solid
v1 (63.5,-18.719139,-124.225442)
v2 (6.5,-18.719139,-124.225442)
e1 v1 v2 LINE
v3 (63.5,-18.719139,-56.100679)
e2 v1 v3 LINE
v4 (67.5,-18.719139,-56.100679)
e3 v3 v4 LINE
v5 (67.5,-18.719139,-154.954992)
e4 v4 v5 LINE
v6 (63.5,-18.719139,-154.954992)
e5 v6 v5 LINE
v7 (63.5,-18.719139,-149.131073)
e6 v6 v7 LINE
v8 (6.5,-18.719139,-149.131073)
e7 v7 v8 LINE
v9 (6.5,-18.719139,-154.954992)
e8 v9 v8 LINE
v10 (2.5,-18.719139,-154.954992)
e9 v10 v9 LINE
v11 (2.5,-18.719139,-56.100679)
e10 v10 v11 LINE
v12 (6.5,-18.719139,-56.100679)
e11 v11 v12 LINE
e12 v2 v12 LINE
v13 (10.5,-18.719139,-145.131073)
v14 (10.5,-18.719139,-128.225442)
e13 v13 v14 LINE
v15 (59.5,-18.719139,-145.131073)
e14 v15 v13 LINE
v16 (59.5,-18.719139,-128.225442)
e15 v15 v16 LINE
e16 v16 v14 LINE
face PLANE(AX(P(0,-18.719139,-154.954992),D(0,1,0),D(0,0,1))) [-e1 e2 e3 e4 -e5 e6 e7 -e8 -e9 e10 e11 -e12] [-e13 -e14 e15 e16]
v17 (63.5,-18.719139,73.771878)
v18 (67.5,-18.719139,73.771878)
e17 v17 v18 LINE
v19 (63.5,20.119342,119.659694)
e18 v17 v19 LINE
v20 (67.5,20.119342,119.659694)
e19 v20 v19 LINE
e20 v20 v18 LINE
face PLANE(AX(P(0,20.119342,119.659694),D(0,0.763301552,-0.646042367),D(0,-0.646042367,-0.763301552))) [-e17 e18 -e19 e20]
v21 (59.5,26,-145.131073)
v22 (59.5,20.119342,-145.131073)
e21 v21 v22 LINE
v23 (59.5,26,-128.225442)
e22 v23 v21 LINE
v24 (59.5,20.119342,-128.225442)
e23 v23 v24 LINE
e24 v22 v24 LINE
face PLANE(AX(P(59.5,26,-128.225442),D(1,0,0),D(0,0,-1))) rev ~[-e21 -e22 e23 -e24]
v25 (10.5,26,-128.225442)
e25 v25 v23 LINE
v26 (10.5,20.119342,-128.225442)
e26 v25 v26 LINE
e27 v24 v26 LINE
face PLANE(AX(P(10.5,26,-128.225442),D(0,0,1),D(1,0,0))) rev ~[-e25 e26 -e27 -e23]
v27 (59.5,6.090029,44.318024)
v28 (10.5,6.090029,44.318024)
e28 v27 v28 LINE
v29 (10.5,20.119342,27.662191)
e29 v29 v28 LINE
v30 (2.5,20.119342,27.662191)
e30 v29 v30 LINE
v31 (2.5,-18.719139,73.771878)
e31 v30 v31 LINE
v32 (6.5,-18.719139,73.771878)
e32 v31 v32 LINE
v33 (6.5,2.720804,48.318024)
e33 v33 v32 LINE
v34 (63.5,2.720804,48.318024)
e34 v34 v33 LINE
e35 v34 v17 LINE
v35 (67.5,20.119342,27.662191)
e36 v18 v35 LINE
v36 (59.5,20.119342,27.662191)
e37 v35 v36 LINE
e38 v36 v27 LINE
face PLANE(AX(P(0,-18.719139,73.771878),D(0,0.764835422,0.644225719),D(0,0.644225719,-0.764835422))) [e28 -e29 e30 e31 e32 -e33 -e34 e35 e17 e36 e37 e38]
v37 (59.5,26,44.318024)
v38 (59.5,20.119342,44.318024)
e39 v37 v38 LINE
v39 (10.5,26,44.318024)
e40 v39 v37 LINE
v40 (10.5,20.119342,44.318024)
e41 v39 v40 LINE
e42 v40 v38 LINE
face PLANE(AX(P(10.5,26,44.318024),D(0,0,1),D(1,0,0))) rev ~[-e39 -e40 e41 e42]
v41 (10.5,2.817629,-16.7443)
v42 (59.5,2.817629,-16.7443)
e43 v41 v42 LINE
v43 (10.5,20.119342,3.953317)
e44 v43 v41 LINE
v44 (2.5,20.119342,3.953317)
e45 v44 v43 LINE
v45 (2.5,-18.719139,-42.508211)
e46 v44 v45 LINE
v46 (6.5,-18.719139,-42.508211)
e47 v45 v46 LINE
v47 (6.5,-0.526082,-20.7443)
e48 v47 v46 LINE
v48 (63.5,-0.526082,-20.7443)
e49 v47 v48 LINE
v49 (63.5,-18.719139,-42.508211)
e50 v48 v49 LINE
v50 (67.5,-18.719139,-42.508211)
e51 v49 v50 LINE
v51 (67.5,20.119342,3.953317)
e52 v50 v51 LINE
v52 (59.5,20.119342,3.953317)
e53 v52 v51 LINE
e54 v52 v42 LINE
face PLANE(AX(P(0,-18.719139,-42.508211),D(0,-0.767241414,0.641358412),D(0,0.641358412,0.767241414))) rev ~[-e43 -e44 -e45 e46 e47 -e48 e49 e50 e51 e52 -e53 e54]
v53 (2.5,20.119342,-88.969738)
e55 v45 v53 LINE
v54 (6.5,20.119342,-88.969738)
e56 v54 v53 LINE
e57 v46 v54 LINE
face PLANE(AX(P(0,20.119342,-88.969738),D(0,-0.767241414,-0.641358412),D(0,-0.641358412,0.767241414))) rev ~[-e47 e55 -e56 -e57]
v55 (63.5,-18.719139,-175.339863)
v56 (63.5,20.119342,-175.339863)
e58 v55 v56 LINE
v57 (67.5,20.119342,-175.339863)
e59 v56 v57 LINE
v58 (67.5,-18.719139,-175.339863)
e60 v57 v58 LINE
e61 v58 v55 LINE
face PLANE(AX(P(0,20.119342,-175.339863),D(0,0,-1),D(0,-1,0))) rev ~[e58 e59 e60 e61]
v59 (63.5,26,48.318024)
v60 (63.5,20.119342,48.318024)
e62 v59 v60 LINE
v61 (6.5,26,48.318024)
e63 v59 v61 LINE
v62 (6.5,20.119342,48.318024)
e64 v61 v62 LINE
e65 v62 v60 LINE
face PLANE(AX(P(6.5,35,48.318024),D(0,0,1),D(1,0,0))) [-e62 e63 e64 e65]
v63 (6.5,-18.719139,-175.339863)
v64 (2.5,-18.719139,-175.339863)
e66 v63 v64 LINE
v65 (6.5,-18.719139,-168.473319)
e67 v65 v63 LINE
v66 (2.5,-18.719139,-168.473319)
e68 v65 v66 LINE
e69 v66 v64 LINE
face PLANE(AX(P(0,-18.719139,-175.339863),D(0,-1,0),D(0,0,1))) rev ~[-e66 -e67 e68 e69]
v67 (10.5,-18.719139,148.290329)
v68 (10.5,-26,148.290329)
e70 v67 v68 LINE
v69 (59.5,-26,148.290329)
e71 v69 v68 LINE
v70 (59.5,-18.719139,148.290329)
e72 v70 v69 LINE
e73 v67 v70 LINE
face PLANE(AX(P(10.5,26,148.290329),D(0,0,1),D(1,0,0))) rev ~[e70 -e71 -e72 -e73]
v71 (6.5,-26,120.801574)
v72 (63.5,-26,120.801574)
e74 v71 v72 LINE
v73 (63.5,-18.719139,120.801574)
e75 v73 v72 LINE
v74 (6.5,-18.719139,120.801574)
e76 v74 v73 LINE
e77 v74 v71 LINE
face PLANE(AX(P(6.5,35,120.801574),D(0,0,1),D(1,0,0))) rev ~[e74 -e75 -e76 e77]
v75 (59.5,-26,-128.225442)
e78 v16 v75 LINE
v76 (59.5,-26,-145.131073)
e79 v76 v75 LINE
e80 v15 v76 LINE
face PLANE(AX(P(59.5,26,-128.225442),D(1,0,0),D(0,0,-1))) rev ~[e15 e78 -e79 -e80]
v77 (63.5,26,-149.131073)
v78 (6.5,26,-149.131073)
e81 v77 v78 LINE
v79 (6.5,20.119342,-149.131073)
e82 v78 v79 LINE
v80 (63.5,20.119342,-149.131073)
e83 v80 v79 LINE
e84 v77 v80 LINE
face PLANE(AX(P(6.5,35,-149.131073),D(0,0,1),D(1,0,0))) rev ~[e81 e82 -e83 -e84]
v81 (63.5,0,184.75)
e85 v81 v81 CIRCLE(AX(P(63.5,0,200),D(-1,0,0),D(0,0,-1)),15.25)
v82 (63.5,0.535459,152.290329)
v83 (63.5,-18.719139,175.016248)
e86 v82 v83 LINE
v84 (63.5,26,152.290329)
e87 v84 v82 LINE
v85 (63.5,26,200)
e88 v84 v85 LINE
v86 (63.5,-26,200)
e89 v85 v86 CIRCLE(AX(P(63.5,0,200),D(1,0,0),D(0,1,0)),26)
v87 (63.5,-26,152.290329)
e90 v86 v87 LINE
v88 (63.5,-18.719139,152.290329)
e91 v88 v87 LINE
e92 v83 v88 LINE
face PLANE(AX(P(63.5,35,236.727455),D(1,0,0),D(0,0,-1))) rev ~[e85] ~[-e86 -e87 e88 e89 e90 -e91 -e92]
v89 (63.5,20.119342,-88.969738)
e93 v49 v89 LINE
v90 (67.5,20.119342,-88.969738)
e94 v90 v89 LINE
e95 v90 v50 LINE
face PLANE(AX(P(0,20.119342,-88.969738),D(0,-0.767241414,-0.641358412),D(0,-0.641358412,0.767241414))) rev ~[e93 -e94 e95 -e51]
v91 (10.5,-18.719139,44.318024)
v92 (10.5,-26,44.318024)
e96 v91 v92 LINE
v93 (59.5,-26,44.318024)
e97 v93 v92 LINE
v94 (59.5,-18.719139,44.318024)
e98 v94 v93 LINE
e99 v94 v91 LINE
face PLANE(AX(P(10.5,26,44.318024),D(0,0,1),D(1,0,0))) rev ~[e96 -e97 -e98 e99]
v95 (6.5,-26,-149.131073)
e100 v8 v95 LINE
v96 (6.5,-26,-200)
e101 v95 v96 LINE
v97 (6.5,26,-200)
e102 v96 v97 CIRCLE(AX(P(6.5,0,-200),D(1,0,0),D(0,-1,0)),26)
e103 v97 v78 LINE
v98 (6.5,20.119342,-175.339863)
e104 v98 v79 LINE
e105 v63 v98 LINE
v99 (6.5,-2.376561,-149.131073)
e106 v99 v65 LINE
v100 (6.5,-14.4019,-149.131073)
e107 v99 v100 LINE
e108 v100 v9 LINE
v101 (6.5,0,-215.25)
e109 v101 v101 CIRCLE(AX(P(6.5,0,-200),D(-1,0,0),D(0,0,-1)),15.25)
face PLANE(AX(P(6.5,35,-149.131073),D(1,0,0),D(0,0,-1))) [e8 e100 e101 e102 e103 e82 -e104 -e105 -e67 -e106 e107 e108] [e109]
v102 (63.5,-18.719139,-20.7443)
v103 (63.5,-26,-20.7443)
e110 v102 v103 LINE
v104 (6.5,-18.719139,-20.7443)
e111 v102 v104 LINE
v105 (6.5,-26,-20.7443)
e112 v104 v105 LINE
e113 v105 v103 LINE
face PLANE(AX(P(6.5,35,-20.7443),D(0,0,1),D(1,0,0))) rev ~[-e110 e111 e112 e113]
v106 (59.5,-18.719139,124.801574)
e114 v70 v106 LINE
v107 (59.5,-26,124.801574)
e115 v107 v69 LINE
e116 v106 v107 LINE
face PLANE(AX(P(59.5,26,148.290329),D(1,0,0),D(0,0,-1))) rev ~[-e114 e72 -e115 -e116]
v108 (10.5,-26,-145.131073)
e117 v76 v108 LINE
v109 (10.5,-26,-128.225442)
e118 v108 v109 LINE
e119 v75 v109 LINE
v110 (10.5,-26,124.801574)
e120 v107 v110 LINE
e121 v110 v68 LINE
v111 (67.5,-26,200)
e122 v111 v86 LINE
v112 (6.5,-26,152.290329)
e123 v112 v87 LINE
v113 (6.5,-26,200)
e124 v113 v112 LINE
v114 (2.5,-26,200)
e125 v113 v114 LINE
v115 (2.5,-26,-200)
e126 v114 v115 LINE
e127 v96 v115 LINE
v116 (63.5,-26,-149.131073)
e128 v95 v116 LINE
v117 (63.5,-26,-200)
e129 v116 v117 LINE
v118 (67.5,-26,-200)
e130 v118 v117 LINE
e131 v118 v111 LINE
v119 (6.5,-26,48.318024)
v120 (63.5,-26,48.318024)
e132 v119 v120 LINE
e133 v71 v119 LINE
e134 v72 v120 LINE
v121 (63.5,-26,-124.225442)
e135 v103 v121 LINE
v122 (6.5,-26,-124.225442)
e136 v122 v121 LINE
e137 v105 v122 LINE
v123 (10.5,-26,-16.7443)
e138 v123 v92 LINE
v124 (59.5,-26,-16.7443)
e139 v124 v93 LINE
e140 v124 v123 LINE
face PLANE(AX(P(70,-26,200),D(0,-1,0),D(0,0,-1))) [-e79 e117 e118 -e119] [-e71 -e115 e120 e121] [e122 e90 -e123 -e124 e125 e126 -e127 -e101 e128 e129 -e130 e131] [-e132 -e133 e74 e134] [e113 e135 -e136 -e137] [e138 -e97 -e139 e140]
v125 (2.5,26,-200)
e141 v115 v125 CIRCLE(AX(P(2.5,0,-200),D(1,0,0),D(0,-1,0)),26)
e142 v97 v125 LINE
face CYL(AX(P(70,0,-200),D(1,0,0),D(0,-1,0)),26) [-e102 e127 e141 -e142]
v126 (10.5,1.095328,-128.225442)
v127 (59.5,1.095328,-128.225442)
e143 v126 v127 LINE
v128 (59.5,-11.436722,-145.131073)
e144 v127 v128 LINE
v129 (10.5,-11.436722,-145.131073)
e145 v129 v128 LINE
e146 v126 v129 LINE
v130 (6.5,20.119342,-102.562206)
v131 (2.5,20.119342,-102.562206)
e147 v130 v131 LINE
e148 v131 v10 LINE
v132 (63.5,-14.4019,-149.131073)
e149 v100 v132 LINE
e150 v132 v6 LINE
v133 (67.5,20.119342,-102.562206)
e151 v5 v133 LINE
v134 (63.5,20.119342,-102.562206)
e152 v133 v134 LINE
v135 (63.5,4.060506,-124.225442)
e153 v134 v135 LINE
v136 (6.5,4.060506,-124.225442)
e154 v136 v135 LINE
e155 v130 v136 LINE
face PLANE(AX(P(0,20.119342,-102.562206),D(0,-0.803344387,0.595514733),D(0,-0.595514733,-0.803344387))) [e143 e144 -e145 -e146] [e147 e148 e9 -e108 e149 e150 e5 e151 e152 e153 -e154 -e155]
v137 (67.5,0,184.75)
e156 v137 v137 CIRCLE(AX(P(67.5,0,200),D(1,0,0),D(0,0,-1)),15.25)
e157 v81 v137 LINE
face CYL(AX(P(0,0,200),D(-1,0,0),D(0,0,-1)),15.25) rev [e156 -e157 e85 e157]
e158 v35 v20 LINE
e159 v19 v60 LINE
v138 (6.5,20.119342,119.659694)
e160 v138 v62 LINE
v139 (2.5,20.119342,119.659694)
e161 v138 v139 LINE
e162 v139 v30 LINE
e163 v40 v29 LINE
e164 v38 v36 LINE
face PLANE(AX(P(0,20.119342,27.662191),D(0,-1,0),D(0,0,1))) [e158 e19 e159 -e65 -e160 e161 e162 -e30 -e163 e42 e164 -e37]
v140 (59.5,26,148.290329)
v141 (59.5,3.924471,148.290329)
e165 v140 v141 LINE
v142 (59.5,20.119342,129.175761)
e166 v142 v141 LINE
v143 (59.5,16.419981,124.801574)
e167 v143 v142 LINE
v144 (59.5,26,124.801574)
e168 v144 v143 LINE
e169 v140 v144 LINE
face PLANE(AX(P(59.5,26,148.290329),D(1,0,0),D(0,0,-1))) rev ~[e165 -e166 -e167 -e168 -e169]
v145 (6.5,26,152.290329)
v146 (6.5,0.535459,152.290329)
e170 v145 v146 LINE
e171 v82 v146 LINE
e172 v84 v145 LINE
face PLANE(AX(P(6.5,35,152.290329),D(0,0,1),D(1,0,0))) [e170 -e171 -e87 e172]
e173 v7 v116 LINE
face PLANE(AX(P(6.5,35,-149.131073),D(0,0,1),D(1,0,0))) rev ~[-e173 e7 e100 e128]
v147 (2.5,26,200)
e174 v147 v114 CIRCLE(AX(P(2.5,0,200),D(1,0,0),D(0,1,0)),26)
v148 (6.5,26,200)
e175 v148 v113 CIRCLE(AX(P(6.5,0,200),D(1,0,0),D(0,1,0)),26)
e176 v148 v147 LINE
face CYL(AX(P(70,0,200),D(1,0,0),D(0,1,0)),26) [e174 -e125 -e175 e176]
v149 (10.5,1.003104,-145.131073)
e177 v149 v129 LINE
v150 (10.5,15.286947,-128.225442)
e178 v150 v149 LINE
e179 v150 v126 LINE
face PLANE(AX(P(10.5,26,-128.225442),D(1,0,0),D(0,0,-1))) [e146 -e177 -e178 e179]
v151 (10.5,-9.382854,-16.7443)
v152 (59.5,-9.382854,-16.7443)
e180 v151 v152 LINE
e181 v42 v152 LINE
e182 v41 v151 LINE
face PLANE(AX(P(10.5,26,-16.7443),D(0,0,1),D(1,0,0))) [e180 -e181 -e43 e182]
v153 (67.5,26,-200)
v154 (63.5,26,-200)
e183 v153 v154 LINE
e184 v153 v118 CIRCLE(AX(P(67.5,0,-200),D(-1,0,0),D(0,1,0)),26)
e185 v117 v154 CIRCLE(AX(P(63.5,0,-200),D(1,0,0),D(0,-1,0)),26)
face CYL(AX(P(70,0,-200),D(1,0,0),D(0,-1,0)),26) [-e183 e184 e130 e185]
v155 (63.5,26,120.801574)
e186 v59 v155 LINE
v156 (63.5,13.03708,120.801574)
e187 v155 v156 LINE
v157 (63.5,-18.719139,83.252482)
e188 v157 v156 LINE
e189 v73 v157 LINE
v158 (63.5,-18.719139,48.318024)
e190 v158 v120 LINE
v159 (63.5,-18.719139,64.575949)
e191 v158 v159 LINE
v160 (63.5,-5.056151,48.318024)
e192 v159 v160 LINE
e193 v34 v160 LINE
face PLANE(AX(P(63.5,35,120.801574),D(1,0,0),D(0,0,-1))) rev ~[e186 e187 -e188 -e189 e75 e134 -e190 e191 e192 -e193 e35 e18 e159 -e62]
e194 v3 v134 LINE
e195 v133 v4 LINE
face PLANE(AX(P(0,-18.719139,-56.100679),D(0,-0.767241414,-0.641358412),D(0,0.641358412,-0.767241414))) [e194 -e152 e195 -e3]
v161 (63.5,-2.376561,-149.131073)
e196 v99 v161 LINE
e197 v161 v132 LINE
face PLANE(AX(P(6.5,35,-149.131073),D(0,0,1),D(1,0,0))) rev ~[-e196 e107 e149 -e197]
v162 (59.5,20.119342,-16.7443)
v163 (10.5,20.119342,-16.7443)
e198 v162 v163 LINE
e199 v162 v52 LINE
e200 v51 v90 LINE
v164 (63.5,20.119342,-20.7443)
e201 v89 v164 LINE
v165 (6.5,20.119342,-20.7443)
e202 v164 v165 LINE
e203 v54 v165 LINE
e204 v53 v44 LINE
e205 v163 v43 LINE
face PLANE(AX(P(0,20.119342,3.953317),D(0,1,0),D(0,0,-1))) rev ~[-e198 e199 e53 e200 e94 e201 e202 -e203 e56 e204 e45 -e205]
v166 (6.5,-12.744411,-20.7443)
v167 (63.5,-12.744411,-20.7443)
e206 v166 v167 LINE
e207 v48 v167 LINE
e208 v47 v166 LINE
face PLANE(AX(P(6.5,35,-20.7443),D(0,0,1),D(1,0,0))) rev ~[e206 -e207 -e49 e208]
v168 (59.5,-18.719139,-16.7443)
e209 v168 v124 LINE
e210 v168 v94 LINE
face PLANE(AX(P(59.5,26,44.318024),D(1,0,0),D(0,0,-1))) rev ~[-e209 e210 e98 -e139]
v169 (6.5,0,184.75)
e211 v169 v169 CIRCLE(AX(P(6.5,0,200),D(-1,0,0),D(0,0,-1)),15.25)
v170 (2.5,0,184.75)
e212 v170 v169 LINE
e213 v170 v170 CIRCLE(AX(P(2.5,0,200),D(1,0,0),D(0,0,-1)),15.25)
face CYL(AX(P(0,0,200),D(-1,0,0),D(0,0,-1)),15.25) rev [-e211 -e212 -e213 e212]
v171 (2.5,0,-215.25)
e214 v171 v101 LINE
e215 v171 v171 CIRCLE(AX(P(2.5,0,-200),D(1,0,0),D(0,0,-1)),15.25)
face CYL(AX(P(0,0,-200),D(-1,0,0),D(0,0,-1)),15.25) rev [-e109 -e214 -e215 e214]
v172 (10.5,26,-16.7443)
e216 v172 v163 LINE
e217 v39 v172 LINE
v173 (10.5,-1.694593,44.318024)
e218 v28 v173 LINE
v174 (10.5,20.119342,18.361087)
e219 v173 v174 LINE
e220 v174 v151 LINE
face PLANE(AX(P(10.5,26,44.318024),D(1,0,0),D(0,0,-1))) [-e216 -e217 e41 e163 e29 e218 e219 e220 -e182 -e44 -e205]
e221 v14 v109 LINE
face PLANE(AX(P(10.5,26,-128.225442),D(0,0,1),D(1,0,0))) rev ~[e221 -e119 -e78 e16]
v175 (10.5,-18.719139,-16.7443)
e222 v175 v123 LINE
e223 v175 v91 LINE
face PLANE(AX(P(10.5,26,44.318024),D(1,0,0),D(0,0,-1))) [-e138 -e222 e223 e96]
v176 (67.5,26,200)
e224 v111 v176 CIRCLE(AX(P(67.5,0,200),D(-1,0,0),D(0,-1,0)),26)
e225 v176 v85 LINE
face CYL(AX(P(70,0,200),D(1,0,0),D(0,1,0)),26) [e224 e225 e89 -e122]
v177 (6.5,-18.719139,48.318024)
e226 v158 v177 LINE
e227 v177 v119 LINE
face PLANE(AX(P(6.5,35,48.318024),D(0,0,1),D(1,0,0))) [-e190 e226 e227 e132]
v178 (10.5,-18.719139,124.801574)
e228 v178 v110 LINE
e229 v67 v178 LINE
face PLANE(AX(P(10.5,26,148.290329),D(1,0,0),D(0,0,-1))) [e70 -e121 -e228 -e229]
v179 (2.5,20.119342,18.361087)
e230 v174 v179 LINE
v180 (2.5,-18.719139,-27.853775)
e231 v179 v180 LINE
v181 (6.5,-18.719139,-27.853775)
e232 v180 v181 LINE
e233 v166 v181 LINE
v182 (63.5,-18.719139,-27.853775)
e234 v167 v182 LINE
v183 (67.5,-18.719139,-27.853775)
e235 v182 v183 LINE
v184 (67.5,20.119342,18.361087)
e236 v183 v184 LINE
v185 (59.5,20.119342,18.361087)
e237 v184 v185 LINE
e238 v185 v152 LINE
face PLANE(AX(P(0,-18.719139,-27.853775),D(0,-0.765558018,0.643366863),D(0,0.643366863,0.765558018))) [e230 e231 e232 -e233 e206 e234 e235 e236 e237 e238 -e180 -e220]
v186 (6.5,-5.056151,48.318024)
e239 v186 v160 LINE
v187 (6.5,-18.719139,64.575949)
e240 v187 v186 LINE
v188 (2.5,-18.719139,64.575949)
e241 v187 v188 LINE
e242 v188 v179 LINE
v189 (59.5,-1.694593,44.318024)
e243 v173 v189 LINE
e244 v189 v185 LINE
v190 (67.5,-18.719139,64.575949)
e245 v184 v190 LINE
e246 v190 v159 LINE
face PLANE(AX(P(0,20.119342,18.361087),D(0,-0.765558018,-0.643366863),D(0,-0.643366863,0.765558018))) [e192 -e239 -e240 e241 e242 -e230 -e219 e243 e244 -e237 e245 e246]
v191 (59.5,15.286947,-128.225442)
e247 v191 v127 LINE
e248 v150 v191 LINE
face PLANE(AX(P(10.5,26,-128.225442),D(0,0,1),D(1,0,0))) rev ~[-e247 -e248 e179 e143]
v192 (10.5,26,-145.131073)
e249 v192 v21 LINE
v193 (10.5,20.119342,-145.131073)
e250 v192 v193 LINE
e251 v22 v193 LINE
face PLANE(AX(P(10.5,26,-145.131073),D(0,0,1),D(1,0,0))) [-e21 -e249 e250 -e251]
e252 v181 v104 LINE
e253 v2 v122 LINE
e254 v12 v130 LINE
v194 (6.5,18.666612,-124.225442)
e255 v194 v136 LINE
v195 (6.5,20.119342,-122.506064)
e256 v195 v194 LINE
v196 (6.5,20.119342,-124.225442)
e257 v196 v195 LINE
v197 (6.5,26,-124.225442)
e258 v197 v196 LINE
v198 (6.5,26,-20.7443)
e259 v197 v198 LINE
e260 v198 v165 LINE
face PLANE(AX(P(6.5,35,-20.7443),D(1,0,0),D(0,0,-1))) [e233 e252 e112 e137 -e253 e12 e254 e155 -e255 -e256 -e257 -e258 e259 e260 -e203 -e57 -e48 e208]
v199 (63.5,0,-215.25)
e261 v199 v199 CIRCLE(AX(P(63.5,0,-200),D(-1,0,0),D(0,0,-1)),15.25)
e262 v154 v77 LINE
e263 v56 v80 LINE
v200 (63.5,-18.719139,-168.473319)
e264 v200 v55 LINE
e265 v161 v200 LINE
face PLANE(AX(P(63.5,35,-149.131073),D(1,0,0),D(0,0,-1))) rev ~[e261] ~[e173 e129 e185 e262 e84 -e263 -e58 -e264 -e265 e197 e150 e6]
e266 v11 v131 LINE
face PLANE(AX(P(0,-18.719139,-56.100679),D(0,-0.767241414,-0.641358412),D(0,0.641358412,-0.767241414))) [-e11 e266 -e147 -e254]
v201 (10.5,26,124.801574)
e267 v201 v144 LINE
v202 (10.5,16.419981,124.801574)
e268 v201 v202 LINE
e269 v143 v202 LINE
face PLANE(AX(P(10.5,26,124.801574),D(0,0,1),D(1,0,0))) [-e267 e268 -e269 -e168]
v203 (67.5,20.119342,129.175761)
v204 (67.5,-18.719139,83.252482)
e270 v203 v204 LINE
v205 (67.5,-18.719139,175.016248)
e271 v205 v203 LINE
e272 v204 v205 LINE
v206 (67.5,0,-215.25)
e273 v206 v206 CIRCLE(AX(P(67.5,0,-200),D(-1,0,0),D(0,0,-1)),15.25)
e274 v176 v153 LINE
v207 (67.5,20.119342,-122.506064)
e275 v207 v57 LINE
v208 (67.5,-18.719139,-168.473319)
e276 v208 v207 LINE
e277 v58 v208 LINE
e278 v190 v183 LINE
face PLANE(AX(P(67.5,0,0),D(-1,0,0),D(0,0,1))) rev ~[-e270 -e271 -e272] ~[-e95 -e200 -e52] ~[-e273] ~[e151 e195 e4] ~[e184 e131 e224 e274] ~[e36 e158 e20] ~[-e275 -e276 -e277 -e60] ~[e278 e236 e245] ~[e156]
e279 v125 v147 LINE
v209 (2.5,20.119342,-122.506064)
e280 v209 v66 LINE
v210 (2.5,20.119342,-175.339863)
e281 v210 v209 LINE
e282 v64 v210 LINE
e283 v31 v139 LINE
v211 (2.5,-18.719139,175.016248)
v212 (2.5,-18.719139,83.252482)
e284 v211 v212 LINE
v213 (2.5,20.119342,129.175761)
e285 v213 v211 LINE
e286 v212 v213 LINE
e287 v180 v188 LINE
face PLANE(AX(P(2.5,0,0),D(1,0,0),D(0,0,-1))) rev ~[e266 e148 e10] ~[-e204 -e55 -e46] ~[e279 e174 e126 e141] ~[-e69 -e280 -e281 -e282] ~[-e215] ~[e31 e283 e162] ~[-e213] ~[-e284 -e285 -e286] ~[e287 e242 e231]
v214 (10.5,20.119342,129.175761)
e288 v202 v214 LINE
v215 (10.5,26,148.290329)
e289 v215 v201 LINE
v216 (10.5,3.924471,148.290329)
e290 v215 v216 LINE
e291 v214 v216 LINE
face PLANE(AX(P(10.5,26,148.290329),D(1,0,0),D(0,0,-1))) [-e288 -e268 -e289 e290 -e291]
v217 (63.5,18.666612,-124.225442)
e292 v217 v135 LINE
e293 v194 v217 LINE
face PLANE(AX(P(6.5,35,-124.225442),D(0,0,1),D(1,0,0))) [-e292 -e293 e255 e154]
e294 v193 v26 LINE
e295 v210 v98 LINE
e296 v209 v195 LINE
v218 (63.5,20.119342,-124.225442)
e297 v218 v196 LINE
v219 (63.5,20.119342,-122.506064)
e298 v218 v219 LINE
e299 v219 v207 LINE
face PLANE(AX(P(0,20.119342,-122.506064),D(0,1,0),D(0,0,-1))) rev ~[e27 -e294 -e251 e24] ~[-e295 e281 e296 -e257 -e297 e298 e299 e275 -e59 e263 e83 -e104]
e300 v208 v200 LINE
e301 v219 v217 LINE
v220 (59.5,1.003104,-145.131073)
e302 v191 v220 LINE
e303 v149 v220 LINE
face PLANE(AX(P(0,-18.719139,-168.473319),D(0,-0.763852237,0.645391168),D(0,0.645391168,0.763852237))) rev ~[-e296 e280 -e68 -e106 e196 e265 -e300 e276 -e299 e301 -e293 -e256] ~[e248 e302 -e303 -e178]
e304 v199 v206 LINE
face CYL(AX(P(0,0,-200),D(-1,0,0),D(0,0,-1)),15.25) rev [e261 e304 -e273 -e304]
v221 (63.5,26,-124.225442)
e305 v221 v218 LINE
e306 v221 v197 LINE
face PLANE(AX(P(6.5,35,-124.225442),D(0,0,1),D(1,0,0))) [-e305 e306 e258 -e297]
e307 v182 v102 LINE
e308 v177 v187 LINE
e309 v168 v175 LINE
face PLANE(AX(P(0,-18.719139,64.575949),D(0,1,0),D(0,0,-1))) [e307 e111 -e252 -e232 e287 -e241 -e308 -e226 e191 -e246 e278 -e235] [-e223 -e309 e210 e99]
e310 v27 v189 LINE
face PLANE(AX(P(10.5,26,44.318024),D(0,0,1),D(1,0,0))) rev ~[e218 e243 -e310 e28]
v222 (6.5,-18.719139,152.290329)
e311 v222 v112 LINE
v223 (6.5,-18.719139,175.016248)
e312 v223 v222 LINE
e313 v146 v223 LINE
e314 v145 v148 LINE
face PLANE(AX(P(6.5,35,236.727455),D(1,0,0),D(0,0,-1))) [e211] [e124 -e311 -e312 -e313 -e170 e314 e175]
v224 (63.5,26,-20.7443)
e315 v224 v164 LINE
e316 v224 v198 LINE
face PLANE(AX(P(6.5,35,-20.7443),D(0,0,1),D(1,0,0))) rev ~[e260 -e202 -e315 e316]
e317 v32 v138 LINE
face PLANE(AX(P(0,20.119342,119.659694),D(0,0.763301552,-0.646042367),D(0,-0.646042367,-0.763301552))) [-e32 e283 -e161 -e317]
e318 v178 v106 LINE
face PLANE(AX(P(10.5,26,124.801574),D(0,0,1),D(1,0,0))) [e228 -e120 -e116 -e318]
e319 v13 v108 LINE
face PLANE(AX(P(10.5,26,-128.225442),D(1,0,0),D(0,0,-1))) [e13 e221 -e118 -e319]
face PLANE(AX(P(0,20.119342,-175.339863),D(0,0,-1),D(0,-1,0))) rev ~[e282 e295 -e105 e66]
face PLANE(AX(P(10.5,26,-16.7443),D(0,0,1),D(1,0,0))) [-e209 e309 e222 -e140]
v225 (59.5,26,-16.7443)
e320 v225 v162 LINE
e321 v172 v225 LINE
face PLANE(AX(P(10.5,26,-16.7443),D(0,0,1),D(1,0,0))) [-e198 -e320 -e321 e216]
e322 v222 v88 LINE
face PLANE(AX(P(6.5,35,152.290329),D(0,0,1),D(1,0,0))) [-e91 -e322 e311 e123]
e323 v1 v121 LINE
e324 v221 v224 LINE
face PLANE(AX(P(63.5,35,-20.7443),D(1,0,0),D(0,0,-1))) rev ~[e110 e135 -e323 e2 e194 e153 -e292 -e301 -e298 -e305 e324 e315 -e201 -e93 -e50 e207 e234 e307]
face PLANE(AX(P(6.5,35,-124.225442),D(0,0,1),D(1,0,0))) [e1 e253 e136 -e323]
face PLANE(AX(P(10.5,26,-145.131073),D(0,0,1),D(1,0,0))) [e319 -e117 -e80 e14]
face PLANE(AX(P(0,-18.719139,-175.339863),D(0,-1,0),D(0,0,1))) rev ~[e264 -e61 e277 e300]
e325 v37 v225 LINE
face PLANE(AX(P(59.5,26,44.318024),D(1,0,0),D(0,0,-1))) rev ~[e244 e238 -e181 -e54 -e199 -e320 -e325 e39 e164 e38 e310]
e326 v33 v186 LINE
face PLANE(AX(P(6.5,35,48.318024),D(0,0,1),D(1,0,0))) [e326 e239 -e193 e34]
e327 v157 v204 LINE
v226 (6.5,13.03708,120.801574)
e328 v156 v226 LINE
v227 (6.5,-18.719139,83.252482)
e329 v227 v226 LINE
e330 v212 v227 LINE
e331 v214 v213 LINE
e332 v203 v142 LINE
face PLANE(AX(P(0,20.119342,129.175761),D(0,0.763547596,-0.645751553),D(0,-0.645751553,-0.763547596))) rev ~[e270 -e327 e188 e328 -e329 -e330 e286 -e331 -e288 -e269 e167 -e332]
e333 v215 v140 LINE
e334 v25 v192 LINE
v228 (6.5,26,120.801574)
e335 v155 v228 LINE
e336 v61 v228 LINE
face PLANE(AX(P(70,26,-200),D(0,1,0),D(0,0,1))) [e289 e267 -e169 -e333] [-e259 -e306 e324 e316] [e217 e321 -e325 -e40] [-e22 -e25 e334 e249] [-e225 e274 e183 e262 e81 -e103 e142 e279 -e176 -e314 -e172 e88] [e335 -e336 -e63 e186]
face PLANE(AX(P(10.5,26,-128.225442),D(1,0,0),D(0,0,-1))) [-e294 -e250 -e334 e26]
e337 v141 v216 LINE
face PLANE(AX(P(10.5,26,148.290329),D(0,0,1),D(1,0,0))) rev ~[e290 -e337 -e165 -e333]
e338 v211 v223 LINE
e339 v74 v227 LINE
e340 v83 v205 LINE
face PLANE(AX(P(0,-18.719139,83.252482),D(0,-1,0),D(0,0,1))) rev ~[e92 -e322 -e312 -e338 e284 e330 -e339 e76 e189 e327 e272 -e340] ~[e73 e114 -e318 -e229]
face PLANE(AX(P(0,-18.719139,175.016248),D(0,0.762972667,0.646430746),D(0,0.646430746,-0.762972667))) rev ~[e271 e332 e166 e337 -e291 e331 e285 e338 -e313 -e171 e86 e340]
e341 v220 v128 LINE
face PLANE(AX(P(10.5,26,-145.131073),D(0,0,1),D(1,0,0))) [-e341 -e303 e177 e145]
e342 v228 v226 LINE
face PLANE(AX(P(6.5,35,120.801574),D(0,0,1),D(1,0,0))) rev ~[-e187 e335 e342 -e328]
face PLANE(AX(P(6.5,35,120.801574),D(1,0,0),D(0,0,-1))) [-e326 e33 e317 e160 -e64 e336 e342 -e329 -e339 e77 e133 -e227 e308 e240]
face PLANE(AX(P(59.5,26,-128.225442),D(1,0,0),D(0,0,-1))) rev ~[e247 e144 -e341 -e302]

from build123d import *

# Parameters (mm, degrees)
CROQUIS1_R              = 15.25
SALIENTE_EXTRUIR1_DEPTH = 70
CROQUIS2_W              = 57
CROQUIS2_H              = 84.437125565
CROQUIS2_H_2            = 89.497342593
CROQUIS2_H_3            = 103.4811418
CROQUIS2_H_4            = 72.483550253
CORTAR_EXTRUIR1_DEPTH   = 70
CORTAR_EXTRUIR2_DEPTH   = 70
CROQUIS4_R              = 15.25
CORTAR_EXTRUIR3_DEPTH   = 2.5
CROQUIS5_R              = 15.25
CORTAR_EXTRUIR4_DEPTH   = 2.5
CROQUIS6_W              = 49
CROQUIS6_H              = 61.062323931
CORTAR_EXTRUIR5_DEPTH   = 70
CROQUIS7_W              = 49
CROQUIS7_H              = 23.488755438
CORTAR_EXTRUIR6_DEPTH   = 70
CROQUIS8_W              = 49
CROQUIS8_H              = 16.905630738
CORTAR_EXTRUIR7_DEPTH   = 70
CORTAR_EXTRUIR8_DEPTH   = 75


with BuildPart() as part:
    # Croquis1 → Saliente-Extruir1 (new body)
    with BuildSketch(Plane(origin=(0, 0, 0), x_dir=(0, 0, -1), z_dir=(1, 0, 0))):
        with BuildLine():
            Line((-200, 35), (200, 35))
            ThreePointArc((200, 35), (235, 0), (200, -35))
            Line((200, -35), (-200, -35))
            ThreePointArc((-200, -35), (-235, 0), (-200, 35))
        make_face()
        with Locations((-200, 0)):
            Circle(CROQUIS1_R, mode=Mode.SUBTRACT)
        with Locations((200, 0)):
            Circle(CROQUIS1_R, mode=Mode.SUBTRACT)
    extrude(amount=SALIENTE_EXTRUIR1_DEPTH)

    # Croquis2 → Cortar-Extruir1 (cut)
    with BuildSketch(Plane(origin=(0, 35, 0), x_dir=(1, 0, 0), z_dir=(0, 1, 0))):
        with Locations((35, -194.508891983)):
            Rectangle(CROQUIS2_W, CROQUIS2_H)
        with Locations((35, 193.879744257)):
            Rectangle(CROQUIS2_W, CROQUIS2_H_2)
        with Locations((35, 72.484871322)):
            Rectangle(CROQUIS2_W, CROQUIS2_H_3)
        with Locations((35, -84.559798636)):
            Rectangle(CROQUIS2_W, CROQUIS2_H_4)
    extrude(amount=-CORTAR_EXTRUIR1_DEPTH, mode=Mode.SUBTRACT)

    # Croquis3 → Cortar-Extruir2 (cut)
    with BuildSketch(Plane(origin=(70, 0, 0), x_dir=(0, 0, -1), z_dir=(1, 0, 0))):
        with BuildLine():
            Line((-200, -35), (200, -35))
            ThreePointArc((200, -35), (235, 0), (200, 35))
            Line((200, 35), (-200, 35))
            ThreePointArc((-200, 35), (-235, 0), (-200, -35))
        make_face()
        with BuildLine():
            ThreePointArc((-200, 26), (-226, 0), (-200, -26))
            Line((-200, -26), (200, -26))
            ThreePointArc((200, -26), (226, 0), (200, 26))
            Line((200, 26), (-200, 26))
        make_face(mode=Mode.SUBTRACT)
    extrude(amount=-CORTAR_EXTRUIR2_DEPTH, mode=Mode.SUBTRACT)

    # Croquis4 → Cortar-Extruir3 (cut)
    with BuildSketch(Plane(origin=(70, 0, 0), x_dir=(0, 0, -1), z_dir=(1, 0, 0))):
        with BuildLine():
            Line((-200, 26), (200, 26))
            ThreePointArc((200, 26), (226, 0), (200, -26))
            Line((200, -26), (-200, -26))
            ThreePointArc((-200, -26), (-226, 0), (-200, 26))
        make_face()
        with Locations((-200, 0)):
            Circle(CROQUIS4_R, mode=Mode.SUBTRACT)
    extrude(amount=-CORTAR_EXTRUIR3_DEPTH, mode=Mode.SUBTRACT)

    # Croquis5 → Cortar-Extruir4 (cut)
    with BuildSketch(Plane.ZY):
        with BuildLine():
            Line((-200, 26), (200, 26))
            ThreePointArc((200, 26), (226, 0), (200, -26))
            Line((200, -26), (-200, -26))
            ThreePointArc((-200, -26), (-226, 0), (-200, 26))
        make_face()
        with Locations((200, 0)):
            Circle(CROQUIS5_R, mode=Mode.SUBTRACT)
        with Locations((-200, 0)):
            Circle(CROQUIS5_R, mode=Mode.SUBTRACT)
    extrude(amount=-CORTAR_EXTRUIR4_DEPTH, mode=Mode.SUBTRACT)

    # Croquis6 → Cortar-Extruir5 (cut)
    with BuildSketch(Plane(origin=(0, 26, 0), x_dir=(1, 0, 0), z_dir=(0, 1, 0))):
        with Locations((35, -13.786861543)):
            Rectangle(CROQUIS6_W, CROQUIS6_H)
    extrude(amount=-CORTAR_EXTRUIR5_DEPTH, mode=Mode.SUBTRACT)

    # Croquis7 → Cortar-Extruir6 (cut)
    with BuildSketch(Plane(origin=(0, 26, 0), x_dir=(1, 0, 0), z_dir=(0, 1, 0))):
        with Locations((35, -136.545951481)):
            Rectangle(CROQUIS7_W, CROQUIS7_H)
    extrude(amount=-CORTAR_EXTRUIR6_DEPTH, mode=Mode.SUBTRACT)

    # Croquis8 → Cortar-Extruir7 (cut)
    with BuildSketch(Plane(origin=(0, 26, 0), x_dir=(1, 0, 0), z_dir=(0, 1, 0))):
        with Locations((35, 136.678257591)):
            Rectangle(CROQUIS8_W, CROQUIS8_H)
    extrude(amount=-CORTAR_EXTRUIR7_DEPTH, mode=Mode.SUBTRACT)

    # Croquis9 → Cortar-Extruir8 (cut, symmetric)
    with BuildSketch(Plane(origin=(0, 0, 0), x_dir=(0, 0, -1), z_dir=(1, 0, 0))):
        Polygon((-175.016247614, -18.719139012), (-129.175761304, 20.119342374), (-83.252481771, -18.719139012), align=None)
        Polygon((-64.5759486, -18.719139012), (27.853775471, -18.719139012), (-18.361086565, 20.119342374), align=None)
        Polygon((-3.953316698, 20.119342374), (88.969737905, 20.119342374), (42.508210603, -18.719139012), align=None)
        Polygon((175.339862658, 20.119342374), (175.339862658, -18.719139012), (168.473319463, -18.719139012), (122.506063728, 20.119342374), align=None)
        Polygon((-119.659693674, 20.119342374), (-73.771877896, -18.719139012), (-27.662190874, 20.119342374), align=None)
        Polygon((56.100678697, -18.719139012), (102.562205998, 20.119342374), (154.954992104, -18.719139012), align=None)
    extrude(amount=CORTAR_EXTRUIR8_DEPTH, both=True, mode=Mode.SUBTRACT)


solid = part.part
